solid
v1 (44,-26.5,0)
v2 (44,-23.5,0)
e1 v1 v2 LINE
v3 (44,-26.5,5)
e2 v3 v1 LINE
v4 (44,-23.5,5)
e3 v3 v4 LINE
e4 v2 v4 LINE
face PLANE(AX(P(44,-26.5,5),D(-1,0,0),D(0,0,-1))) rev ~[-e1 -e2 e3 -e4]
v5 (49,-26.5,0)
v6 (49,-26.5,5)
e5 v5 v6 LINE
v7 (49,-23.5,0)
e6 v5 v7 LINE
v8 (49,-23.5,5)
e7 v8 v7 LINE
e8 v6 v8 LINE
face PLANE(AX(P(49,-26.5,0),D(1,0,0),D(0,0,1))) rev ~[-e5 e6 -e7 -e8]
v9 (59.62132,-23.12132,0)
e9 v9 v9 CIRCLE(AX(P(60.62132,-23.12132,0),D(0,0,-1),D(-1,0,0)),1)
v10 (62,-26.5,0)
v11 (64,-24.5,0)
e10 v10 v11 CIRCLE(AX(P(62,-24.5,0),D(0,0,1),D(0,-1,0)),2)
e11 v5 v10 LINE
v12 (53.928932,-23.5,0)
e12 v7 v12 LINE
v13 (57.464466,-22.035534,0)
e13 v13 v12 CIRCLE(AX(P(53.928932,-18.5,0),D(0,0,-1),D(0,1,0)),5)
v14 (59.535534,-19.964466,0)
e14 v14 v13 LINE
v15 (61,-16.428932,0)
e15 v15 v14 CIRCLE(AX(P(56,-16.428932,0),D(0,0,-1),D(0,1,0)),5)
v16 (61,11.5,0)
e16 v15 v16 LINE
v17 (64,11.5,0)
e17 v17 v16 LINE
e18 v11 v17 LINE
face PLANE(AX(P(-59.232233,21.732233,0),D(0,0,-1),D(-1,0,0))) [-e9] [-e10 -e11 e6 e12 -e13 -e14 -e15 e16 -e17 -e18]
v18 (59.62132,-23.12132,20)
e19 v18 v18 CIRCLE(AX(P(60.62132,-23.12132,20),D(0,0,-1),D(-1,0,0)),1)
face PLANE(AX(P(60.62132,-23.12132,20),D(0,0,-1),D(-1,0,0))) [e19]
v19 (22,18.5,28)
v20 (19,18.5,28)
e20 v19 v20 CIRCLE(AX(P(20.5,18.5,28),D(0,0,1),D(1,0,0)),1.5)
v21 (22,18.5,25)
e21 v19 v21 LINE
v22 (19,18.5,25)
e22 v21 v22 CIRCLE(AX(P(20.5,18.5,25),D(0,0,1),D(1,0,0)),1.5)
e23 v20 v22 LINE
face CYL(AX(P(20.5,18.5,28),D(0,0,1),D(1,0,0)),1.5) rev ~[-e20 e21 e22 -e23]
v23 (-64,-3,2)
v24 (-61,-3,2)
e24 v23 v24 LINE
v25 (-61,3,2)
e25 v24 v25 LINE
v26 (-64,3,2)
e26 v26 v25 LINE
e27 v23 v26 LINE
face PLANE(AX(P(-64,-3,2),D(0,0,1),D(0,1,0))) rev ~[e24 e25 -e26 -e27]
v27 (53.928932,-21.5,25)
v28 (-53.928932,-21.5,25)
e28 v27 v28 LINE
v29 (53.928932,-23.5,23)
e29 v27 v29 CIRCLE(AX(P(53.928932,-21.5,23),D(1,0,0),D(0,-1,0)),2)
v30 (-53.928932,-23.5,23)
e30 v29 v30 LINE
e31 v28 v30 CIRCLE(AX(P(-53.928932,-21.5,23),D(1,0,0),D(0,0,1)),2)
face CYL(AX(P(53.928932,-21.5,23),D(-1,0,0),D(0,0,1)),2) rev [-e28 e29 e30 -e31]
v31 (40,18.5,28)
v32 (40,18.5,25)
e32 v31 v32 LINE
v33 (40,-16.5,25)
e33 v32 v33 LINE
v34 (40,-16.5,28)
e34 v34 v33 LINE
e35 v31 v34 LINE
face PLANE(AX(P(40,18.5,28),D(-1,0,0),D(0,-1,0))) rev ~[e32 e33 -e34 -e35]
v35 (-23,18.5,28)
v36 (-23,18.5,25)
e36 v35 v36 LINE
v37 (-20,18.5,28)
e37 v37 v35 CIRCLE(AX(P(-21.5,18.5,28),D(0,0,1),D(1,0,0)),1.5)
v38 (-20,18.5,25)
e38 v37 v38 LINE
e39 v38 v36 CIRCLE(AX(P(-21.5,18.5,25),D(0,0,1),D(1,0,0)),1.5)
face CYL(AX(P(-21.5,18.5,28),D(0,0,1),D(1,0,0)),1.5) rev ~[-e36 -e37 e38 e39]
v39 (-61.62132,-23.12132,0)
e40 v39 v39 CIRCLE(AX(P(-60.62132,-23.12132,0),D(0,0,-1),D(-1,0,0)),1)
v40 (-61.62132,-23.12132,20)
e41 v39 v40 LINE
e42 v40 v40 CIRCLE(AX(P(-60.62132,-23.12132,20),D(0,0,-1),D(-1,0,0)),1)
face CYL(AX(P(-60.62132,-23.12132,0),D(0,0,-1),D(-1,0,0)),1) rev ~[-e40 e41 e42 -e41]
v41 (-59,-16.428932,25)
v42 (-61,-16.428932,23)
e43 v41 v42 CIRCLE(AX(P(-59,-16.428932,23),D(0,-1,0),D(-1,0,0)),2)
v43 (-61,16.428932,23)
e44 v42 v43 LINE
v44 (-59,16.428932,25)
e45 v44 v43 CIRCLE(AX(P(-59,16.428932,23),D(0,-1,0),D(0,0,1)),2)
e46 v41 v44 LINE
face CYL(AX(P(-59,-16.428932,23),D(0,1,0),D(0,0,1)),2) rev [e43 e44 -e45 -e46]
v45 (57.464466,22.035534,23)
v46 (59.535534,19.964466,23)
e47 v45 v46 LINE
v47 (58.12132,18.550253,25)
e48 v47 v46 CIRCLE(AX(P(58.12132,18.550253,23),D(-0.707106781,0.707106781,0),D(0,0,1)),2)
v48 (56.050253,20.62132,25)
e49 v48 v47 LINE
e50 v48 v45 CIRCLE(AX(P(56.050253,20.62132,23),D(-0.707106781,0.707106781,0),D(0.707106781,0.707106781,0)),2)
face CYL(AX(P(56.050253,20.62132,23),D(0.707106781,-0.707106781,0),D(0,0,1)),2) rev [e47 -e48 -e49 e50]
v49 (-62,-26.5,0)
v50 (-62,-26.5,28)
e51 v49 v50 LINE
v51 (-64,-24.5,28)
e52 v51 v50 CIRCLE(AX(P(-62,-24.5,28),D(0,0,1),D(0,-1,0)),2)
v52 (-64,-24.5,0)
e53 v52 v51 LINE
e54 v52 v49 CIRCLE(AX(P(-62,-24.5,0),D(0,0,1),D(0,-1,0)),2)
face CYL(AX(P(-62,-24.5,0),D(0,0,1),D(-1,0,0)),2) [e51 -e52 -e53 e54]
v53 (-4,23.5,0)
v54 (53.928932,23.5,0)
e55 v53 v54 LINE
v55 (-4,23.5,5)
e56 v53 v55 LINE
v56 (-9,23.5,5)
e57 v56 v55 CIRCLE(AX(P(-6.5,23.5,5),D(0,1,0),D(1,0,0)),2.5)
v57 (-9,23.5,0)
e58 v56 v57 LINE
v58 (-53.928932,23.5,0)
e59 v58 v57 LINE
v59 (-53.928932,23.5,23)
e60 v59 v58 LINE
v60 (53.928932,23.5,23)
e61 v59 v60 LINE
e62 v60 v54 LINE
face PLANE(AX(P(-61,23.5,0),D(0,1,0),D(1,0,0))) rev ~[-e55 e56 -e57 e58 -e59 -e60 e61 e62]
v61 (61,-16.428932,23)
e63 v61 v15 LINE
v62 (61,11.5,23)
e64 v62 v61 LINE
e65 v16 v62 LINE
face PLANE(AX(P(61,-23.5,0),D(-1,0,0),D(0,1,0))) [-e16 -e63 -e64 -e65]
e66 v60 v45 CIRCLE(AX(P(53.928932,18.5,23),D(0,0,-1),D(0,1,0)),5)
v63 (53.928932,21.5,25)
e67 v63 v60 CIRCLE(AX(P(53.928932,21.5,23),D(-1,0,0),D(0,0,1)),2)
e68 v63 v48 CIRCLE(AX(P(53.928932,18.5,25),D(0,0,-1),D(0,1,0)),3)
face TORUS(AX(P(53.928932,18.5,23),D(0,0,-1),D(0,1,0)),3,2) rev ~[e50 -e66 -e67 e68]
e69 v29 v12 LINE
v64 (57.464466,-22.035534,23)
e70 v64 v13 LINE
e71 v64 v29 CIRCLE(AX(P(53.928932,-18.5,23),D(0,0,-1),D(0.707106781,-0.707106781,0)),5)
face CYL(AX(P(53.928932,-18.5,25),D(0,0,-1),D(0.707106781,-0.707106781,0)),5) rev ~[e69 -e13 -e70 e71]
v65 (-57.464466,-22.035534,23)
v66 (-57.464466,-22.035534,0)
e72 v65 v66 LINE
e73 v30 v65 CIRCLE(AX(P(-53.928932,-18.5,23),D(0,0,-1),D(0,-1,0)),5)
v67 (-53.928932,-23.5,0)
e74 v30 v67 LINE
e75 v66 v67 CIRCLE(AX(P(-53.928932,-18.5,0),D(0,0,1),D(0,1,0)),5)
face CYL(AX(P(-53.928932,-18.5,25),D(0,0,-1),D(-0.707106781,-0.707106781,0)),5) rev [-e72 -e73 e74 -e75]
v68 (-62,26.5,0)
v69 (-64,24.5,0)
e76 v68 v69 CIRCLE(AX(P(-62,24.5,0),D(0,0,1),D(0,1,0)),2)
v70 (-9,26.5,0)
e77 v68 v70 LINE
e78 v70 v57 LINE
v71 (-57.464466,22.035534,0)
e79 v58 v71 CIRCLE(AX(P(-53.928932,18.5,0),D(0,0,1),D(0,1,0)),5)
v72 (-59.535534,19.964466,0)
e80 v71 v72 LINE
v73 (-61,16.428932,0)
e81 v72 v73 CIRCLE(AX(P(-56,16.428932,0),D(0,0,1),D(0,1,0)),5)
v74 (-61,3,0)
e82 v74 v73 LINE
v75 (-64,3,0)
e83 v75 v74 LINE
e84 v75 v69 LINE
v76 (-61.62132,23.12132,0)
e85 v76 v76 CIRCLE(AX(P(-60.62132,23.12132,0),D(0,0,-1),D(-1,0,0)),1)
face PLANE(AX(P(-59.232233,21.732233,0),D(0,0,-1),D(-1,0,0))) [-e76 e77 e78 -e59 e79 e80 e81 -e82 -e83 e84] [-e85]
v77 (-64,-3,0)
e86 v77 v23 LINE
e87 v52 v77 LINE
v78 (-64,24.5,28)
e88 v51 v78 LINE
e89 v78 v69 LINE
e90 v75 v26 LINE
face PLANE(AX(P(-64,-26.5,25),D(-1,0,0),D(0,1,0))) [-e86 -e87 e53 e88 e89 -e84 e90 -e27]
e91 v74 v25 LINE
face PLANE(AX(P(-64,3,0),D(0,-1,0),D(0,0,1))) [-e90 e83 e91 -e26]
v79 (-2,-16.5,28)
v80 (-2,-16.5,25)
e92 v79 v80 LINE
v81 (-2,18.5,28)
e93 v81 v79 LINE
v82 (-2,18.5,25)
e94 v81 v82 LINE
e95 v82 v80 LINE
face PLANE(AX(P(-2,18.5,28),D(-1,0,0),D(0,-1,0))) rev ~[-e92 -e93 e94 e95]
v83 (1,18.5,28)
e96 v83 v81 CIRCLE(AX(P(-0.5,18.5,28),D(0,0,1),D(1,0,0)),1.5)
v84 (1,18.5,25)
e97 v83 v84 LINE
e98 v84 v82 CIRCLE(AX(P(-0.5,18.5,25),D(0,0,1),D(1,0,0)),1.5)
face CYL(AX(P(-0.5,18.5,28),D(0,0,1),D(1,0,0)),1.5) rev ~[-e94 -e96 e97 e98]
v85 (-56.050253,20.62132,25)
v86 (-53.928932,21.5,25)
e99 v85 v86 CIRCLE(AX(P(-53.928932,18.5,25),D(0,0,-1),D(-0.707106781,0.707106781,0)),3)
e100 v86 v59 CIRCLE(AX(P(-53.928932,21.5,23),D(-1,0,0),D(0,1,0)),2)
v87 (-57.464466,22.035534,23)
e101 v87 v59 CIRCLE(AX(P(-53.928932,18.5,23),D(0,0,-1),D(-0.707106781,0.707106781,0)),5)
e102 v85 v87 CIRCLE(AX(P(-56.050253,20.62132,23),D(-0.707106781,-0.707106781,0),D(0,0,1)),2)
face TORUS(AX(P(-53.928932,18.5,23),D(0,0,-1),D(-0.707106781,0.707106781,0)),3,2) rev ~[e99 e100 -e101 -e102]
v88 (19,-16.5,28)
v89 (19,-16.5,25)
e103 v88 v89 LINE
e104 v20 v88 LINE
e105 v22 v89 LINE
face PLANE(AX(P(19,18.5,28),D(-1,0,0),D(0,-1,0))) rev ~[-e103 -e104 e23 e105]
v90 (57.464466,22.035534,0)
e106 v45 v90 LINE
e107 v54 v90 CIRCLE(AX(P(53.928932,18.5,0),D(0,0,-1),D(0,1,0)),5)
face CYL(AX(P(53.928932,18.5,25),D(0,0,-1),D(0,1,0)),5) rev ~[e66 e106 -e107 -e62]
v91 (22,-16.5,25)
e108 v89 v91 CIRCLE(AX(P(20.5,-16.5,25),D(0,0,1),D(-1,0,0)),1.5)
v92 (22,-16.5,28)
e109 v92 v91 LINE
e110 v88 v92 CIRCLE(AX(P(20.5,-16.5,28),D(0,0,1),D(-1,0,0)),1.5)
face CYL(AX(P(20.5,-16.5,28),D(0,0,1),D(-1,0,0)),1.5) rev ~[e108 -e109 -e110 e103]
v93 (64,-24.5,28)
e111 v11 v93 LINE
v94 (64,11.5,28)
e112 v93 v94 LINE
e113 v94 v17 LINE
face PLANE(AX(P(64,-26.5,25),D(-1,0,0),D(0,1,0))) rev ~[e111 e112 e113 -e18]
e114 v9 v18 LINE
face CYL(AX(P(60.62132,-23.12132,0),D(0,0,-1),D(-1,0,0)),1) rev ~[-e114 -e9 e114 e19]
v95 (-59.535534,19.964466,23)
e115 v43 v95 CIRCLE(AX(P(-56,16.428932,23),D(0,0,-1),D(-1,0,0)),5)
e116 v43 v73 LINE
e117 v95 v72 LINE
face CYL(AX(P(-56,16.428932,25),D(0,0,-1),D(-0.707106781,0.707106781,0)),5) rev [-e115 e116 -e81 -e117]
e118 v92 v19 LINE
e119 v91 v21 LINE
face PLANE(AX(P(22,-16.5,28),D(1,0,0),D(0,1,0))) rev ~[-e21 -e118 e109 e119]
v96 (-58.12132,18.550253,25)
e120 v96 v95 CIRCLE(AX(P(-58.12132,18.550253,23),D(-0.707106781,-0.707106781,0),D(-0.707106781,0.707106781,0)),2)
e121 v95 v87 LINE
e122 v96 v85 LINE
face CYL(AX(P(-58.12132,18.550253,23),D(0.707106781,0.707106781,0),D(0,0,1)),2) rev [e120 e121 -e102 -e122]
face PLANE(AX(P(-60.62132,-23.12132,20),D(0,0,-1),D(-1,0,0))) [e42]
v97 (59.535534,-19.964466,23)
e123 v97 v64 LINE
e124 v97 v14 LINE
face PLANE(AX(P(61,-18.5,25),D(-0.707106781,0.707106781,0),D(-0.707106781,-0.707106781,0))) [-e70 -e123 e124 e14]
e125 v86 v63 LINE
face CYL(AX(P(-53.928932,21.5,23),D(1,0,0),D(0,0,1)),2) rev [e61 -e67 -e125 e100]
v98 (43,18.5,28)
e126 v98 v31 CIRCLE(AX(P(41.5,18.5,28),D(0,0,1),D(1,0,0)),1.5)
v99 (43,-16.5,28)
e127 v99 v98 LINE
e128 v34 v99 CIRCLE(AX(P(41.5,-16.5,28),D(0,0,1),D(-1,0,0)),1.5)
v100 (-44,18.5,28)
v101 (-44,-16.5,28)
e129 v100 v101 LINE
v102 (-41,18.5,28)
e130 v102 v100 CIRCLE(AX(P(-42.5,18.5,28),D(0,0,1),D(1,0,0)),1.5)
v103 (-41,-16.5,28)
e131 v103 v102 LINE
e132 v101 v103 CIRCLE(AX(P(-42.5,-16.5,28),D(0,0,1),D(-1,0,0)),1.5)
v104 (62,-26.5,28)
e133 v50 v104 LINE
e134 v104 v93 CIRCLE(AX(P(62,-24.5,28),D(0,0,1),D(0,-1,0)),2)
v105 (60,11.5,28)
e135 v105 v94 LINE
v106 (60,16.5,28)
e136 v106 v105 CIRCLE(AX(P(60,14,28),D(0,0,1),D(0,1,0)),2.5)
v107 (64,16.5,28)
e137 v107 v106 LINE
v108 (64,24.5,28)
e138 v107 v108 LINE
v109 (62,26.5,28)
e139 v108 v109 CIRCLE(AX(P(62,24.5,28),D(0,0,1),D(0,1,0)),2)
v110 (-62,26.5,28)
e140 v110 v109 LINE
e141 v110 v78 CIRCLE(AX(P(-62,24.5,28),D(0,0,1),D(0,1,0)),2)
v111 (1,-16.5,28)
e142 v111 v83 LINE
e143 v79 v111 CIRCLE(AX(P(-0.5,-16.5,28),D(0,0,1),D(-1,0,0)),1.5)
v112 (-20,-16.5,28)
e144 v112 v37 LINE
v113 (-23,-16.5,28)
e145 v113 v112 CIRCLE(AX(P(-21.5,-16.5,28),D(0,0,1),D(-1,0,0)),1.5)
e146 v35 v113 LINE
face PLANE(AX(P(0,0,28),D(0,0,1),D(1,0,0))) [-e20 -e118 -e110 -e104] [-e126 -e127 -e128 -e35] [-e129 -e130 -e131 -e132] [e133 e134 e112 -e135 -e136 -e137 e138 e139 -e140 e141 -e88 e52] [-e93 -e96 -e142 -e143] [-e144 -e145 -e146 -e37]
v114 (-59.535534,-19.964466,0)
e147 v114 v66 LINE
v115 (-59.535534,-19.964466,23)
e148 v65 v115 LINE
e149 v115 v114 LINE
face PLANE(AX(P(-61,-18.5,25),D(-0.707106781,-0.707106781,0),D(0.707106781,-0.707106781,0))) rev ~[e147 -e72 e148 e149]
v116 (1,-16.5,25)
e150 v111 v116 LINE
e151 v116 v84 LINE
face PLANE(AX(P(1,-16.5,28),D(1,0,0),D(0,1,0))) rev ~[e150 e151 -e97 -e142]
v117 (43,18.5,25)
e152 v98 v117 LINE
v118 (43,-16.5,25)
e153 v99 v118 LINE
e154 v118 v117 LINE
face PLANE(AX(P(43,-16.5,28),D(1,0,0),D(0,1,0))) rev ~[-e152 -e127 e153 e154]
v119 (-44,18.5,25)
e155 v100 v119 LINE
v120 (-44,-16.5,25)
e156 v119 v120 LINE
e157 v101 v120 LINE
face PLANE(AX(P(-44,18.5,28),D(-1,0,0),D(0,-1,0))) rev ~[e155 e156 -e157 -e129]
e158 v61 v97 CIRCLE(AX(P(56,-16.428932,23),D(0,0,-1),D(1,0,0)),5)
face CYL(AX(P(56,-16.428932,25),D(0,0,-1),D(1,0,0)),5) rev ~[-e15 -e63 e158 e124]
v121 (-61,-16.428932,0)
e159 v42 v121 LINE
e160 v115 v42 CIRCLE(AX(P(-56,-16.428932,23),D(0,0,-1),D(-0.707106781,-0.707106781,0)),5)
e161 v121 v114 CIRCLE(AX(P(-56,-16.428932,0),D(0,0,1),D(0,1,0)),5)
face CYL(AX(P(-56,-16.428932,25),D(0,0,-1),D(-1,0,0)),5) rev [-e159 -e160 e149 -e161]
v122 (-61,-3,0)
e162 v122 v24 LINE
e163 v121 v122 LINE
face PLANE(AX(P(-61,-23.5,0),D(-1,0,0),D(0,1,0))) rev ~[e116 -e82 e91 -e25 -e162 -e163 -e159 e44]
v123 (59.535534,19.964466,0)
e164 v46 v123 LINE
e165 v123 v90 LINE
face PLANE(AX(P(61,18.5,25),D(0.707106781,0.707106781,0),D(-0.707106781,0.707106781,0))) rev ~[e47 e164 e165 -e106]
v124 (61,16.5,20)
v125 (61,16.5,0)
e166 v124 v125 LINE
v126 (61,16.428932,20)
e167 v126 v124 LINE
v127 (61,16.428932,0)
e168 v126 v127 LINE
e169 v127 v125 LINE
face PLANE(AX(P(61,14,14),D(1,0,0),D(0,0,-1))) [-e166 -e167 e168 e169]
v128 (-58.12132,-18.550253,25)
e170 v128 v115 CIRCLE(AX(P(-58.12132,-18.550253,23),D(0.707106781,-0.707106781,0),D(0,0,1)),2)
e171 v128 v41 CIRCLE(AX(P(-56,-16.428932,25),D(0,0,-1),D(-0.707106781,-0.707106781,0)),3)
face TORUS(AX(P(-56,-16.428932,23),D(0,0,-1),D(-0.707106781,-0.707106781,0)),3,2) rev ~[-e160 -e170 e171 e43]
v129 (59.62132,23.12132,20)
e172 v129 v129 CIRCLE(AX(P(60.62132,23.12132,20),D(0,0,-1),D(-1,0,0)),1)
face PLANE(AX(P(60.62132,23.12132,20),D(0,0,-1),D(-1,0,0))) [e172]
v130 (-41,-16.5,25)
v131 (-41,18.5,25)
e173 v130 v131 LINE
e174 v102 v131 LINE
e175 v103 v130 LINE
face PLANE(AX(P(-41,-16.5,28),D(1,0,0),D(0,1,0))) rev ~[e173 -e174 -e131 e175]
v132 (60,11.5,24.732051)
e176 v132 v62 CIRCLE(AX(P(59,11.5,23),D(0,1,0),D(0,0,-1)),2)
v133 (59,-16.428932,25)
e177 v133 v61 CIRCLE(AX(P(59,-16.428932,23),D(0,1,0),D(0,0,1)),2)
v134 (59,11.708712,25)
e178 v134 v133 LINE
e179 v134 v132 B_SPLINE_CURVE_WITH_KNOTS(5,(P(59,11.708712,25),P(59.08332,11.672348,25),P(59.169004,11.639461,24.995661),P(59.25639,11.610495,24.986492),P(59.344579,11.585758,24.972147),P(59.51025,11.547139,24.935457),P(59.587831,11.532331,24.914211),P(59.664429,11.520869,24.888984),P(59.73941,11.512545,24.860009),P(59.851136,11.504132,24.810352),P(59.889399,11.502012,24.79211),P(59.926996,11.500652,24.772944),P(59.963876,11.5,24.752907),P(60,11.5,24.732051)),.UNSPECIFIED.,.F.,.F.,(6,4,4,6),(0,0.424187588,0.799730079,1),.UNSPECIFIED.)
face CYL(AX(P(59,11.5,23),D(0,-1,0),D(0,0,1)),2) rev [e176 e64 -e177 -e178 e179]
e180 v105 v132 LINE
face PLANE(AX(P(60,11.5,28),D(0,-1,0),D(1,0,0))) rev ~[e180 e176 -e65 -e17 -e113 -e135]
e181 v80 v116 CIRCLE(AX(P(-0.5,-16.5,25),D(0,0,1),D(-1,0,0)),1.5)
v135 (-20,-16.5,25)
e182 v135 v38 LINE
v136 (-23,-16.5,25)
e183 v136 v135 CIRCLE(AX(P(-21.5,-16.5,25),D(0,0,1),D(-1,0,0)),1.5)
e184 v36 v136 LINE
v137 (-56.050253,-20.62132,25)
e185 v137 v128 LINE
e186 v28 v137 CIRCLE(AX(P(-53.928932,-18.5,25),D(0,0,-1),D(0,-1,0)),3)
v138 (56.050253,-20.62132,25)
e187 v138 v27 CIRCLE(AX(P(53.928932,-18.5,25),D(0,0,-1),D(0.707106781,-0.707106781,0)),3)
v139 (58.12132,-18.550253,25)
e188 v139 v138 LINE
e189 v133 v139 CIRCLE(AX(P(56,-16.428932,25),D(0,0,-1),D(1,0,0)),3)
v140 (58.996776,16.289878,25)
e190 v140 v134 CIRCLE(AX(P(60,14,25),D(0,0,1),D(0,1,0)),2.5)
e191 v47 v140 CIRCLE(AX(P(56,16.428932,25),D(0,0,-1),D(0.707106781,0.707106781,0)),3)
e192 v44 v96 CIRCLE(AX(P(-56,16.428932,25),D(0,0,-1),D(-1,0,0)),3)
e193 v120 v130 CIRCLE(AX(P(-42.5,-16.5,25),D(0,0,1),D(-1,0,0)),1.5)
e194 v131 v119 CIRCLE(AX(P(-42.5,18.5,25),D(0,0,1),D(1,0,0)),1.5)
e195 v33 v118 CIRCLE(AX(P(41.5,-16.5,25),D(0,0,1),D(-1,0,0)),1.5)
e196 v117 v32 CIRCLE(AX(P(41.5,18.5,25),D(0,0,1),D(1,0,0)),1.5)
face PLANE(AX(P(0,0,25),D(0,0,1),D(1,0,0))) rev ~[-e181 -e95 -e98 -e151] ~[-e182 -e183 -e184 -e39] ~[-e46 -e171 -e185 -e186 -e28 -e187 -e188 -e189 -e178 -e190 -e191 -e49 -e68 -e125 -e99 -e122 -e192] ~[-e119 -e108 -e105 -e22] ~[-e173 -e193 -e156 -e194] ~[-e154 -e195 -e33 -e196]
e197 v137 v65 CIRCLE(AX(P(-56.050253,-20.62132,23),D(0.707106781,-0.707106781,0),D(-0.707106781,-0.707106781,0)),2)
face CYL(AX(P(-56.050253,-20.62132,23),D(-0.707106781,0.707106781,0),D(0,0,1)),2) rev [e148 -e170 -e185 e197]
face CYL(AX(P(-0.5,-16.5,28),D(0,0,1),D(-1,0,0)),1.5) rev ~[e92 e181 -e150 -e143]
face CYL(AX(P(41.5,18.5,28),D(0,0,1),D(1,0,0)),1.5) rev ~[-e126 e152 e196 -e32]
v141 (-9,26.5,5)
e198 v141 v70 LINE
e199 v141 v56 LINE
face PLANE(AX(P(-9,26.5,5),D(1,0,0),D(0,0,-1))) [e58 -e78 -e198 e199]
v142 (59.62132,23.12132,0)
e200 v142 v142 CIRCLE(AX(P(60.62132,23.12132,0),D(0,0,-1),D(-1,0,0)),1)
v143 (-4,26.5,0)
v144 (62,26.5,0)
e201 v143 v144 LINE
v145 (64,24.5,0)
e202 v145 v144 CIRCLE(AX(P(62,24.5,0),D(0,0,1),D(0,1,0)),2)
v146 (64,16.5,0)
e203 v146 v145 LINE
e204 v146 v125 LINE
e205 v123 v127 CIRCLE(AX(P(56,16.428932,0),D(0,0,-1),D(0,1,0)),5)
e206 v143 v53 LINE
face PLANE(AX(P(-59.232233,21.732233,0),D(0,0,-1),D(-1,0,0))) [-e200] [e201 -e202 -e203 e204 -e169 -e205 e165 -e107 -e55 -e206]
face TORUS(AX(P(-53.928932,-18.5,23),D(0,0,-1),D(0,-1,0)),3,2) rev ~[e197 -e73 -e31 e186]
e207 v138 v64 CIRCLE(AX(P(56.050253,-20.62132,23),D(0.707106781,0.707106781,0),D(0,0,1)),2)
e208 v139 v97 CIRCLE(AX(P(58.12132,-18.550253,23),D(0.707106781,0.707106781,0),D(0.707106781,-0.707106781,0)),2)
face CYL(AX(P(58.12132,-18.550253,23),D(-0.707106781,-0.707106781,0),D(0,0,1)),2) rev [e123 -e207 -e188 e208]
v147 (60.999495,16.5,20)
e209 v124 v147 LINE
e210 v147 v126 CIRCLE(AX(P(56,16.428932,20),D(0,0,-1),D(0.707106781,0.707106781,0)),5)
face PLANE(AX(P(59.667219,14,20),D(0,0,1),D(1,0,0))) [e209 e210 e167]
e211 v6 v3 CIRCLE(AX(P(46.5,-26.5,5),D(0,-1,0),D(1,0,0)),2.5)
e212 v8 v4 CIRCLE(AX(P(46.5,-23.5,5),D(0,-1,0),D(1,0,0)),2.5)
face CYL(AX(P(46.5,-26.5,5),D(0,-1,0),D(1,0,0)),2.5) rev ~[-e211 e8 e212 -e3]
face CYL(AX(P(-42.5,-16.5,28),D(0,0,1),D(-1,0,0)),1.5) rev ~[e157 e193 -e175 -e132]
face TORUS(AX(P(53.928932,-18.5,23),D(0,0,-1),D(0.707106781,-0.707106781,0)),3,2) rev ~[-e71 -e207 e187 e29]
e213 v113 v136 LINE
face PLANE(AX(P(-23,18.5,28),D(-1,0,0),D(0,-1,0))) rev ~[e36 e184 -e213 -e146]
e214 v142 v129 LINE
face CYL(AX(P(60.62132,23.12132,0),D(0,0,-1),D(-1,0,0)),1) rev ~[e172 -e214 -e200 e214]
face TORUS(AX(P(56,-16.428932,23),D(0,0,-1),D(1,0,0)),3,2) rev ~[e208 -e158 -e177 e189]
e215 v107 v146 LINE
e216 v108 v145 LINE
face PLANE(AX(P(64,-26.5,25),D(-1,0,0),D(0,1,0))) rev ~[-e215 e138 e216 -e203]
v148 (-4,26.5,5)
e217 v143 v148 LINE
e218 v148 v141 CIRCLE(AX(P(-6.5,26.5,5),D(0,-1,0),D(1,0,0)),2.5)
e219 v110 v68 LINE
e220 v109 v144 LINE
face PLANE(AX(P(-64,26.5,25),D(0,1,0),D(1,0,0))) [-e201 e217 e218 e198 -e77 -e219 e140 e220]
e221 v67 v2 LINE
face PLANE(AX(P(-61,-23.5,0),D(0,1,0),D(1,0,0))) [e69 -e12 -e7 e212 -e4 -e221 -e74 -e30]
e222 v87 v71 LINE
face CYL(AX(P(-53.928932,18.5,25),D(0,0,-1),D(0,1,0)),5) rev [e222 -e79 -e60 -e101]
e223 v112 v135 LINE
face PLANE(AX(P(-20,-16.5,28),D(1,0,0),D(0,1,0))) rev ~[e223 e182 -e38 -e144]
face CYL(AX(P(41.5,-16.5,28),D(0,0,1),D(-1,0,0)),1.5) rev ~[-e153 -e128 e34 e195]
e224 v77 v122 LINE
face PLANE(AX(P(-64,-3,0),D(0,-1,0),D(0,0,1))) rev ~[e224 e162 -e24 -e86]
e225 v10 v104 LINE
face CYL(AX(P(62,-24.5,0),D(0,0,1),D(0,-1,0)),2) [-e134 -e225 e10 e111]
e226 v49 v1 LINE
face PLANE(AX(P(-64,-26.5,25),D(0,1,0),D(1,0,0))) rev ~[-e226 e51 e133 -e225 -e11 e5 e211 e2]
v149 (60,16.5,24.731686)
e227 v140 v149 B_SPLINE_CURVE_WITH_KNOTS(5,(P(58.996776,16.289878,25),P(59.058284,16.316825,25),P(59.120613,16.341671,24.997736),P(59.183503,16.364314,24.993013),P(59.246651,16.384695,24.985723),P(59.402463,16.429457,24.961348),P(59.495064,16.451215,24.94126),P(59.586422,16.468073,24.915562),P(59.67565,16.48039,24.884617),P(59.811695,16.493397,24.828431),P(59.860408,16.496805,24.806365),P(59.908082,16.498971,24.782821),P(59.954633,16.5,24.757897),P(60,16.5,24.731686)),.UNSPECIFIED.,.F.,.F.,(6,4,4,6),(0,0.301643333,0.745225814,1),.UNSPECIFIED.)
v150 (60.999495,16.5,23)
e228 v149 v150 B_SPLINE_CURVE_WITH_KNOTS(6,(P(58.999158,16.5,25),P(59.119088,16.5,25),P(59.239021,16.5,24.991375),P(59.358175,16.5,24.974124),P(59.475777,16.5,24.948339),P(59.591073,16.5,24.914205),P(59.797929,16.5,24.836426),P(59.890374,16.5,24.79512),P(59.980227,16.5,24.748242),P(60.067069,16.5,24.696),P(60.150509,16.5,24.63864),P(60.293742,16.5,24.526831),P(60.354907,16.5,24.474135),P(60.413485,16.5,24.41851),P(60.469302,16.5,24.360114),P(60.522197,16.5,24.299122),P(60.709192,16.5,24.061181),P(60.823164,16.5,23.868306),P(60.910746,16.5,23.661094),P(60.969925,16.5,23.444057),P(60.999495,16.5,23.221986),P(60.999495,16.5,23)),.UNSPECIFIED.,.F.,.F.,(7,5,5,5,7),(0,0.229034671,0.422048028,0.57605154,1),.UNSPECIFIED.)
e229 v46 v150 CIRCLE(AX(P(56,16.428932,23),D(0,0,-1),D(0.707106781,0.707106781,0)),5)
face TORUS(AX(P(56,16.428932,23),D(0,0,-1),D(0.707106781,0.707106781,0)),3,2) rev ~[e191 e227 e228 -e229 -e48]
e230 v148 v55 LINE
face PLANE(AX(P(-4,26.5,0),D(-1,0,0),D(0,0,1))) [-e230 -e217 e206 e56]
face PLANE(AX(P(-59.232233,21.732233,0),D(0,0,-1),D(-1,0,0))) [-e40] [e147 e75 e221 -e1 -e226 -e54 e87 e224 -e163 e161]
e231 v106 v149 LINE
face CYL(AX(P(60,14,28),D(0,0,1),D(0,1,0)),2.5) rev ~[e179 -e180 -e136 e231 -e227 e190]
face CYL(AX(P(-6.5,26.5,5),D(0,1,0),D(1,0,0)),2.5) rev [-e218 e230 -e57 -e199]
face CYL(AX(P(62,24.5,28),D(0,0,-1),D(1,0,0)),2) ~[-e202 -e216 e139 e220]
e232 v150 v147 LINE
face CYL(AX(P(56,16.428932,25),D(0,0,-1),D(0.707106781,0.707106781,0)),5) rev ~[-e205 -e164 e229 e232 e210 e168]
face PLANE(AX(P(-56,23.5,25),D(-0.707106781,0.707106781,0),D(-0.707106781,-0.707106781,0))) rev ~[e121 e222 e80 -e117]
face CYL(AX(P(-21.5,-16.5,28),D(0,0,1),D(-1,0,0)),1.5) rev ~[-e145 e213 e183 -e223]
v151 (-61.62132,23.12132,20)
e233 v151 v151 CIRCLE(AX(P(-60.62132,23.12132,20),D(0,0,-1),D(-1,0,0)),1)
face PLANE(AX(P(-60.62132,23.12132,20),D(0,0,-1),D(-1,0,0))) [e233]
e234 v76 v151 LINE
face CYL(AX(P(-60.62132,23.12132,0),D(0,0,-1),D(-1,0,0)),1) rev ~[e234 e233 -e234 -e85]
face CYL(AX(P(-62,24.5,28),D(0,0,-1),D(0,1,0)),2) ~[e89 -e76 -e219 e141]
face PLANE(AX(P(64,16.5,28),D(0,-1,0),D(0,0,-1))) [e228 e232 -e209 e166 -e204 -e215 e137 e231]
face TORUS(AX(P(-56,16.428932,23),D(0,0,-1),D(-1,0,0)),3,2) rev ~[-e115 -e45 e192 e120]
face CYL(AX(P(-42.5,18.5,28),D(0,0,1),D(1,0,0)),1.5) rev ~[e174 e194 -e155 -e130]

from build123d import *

# Parameters (mm, degrees)
ESQUISSE1_W             = 128
ESQUISSE1_H             = 53
ESQUISSE1_W_2           = 122
ESQUISSE1_H_2           = 47
BOSS_EXTRU_1_DEPTH      = 25
ESQUISSE2_W             = 128
ESQUISSE2_H             = 53
BOSS_EXTRU_2_DEPTH      = 3
BOSS_EXTRU_3_DEPTH      = 25
ENL_V_MAT_EXTRU_1_DEPTH = 3
ESQUISSE5_R             = 1
ENL_V_MAT_EXTRU_2_DEPTH = 20
CONG_1_R                = 5
CONG_2_R                = 5
ESQUISSE6_W             = 28
ESQUISSE6_H             = 5
ENL_V_MAT_EXTRU_3_DEPTH = 3
ENL_V_MAT_EXTRU_4_DEPTH = 8
ENL_V_MAT_EXTRU_6_DEPTH = 8
ENL_V_MAT_EXTRU_7_DEPTH = 8
ESQUISSE13_W            = 2
ESQUISSE13_H            = 6
ENL_V_MAT_EXTRU_8_DEPTH = 3
CONG_4_R                = 2
CONG_5_R                = 2


with BuildPart() as part:
    # Esquisse1 → Boss.-Extru.1 (new body)
    with BuildSketch(Plane.XY):
        Rectangle(ESQUISSE1_W, ESQUISSE1_H)
        Rectangle(ESQUISSE1_W_2, ESQUISSE1_H_2, mode=Mode.SUBTRACT)
    extrude(amount=BOSS_EXTRU_1_DEPTH)

    # Esquisse2 → Boss.-Extru.2 (add)
    with BuildSketch(Plane.XY.offset(25)):
        Rectangle(ESQUISSE2_W, ESQUISSE2_H)
    extrude(amount=BOSS_EXTRU_2_DEPTH)

    # Esquisse3 → Boss.-Extru.3 (add)
    with BuildSketch(Plane(origin=(0, 0, 25), x_dir=(-1, 0, 0), z_dir=(0, 0, -1))):
        Polygon((61, 23.5), (56, 23.5), (61, 18.5), align=None)
        Polygon((61, -23.5), (61, -18.5), (56, -23.5), align=None)
        Polygon((-61, -23.5), (-61, -18.5), (-56, -23.5), align=None)
        Polygon((-61, 18.5), (-56, 23.5), (-61, 23.5), align=None)
    extrude(amount=BOSS_EXTRU_3_DEPTH)

    # Esquisse4 → Enlèv. mat.-Extru.1 (cut)
    with BuildSketch(Plane.XY.offset(28)):
        with BuildLine():
            Line((-44, 18.5), (-44, -16.5))
            ThreePointArc((-44, -16.5), (-42.5, -18), (-41, -16.5))
            Line((-41, -16.5), (-41, 18.5))
            ThreePointArc((-41, 18.5), (-42.5, 20), (-44, 18.5))
        make_face()
        with BuildLine():
            Line((-23, 18.5), (-23, -16.5))
            ThreePointArc((-23, -16.5), (-21.5, -18), (-20, -16.5))
            Line((-20, -16.5), (-20, 18.5))
            ThreePointArc((-20, 18.5), (-21.5, 20), (-23, 18.5))
        make_face()
        with BuildLine():
            Line((-2, 18.5), (-2, -16.5))
            ThreePointArc((-2, -16.5), (-0.5, -18), (1, -16.5))
            Line((1, -16.5), (1, 18.5))
            ThreePointArc((1, 18.5), (-0.5, 20), (-2, 18.5))
        make_face()
        with BuildLine():
            Line((19, 18.5), (19, -16.5))
            ThreePointArc((19, -16.5), (20.5, -18), (22, -16.5))
            Line((22, -16.5), (22, 18.5))
            ThreePointArc((22, 18.5), (20.5, 20), (19, 18.5))
        make_face()
        with BuildLine():
            Line((40, 18.5), (40, -16.5))
            ThreePointArc((40, -16.5), (41.5, -18), (43, -16.5))
            Line((43, -16.5), (43, 18.5))
            ThreePointArc((43, 18.5), (41.5, 20), (40, 18.5))
        make_face()
    extrude(amount=-ENL_V_MAT_EXTRU_1_DEPTH, mode=Mode.SUBTRACT)

    # Esquisse5 → Enlèv. mat.-Extru.2 (cut)
    with BuildSketch(Plane(origin=(0, 0, 0), x_dir=(-1, 0, 0), z_dir=(0, 0, -1))):
        with Locations((-60.621320344, 23.121320344)):
            Circle(ESQUISSE5_R)
        with Locations((60.621320344, 23.121320344)):
            Circle(ESQUISSE5_R)
        with Locations((-60.621320344, -23.121320344)):
            Circle(ESQUISSE5_R)
        with Locations((60.621320344, -23.121320344)):
            Circle(ESQUISSE5_R)
    extrude(amount=-ENL_V_MAT_EXTRU_2_DEPTH, mode=Mode.SUBTRACT)

    # Congé1
    cong_1_edges = [part.edges().sort_by_distance(p)[0] for p in [
        (56, 23.5, 12.5),
    ]]
    fillet(cong_1_edges, radius=CONG_1_R)

    # Congé2
    cong_2_edges = [part.edges().sort_by_distance(p)[0] for p in [
        (-56, 23.5, 12.5),
        (-61, 18.5, 12.5),
        (-56, -23.5, 12.5),
        (-61, -18.5, 12.5),
        (56, -23.5, 12.5),
        (61, -18.5, 12.5),
        (61, 18.5, 12.5),
    ]]
    fillet(cong_2_edges, radius=CONG_2_R)

    # Esquisse6 → Enlèv. mat.-Extru.3 (cut)
    with BuildSketch(Plane(origin=(64, 0, 0), x_dir=(0, 0, -1), z_dir=(1, 0, 0))):
        with Locations((-14, 14)):
            Rectangle(ESQUISSE6_W, ESQUISSE6_H)
    extrude(amount=-ENL_V_MAT_EXTRU_3_DEPTH, mode=Mode.SUBTRACT)

    # Esquisse7 → Enlèv. mat.-Extru.4 (cut)
    with BuildSketch(Plane(origin=(0, 26.5, 0), x_dir=(1, 0, 0), z_dir=(0, 1, 0))):
        with BuildLine():
            Line((-9, 0), (-4, 0))
            Line((-4, 0), (-4, -5))
            ThreePointArc((-4, -5), (-6.5, -7.5), (-9, -5))
            Line((-9, -5), (-9, 0))
        make_face()
    extrude(amount=-ENL_V_MAT_EXTRU_4_DEPTH, mode=Mode.SUBTRACT)

    # Esquisse9 → Enlèv. mat.-Extru.6 (cut)
    with BuildSketch(Plane.XZ.offset(26.5)):
        with BuildLine():
            Line((44, 0), (49, 0))
            Line((49, 0), (49, 5))
            ThreePointArc((49, 5), (46.5, 7.5), (44, 5))
            Line((44, 5), (44, 0))
        make_face()
    extrude(amount=-ENL_V_MAT_EXTRU_6_DEPTH, mode=Mode.SUBTRACT)

    # Esquisse10 → Enlèv. mat.-Extru.7 (cut)
    with BuildSketch(Plane.XY.offset(28)):
        with BuildLine():
            Line((61, 16.5), (60, 16.5))
            ThreePointArc((60, 16.5), (57.5, 14), (60, 11.5))
            Line((60, 11.5), (61, 11.5))
            Line((61, 11.5), (61, 16.5))
        make_face()
    extrude(amount=-ENL_V_MAT_EXTRU_7_DEPTH, mode=Mode.SUBTRACT)

    # Esquisse13 → Enlèv. mat.-Extru.8 (cut)
    with BuildSketch(Plane.ZY.offset(64)):
        with Locations((1, 0)):
            Rectangle(ESQUISSE13_W, ESQUISSE13_H)
    extrude(amount=-ENL_V_MAT_EXTRU_8_DEPTH, mode=Mode.SUBTRACT)

    # Congé4
    cong_4_edges = [part.edges().sort_by_distance(p)[0] for p in [
        (60.60568242, 18.375130905, 25),
        (58.5, 21, 25),
        (55.84234935, 23.119397663, 25),
        (61, -2.464466094, 25),
        (60.619397663, -18.34234935, 25),
        (58.5, -21, 25),
        (55.84234935, -23.119397663, 25),
        (0, -23.5, 25),
        (-55.84234935, -23.119397663, 25),
        (-58.5, -21, 25),
        (-60.619397663, -18.34234935, 25),
        (-61, 0, 25),
        (-60.619397663, 18.34234935, 25),
        (-58.5, 21, 25),
        (-55.84234935, 23.119397663, 25),
        (0, 23.5, 25),
    ]]
    fillet(cong_4_edges, radius=CONG_4_R)

    # Congé5
    cong_5_edges = [part.edges().sort_by_distance(p)[0] for p in [
        (-64, 26.5, 14),
        (64, 26.5, 14),
        (64, -26.5, 14),
        (-64, -26.5, 14),
    ]]
    fillet(cong_5_edges, radius=CONG_5_R)


solid = part.part
